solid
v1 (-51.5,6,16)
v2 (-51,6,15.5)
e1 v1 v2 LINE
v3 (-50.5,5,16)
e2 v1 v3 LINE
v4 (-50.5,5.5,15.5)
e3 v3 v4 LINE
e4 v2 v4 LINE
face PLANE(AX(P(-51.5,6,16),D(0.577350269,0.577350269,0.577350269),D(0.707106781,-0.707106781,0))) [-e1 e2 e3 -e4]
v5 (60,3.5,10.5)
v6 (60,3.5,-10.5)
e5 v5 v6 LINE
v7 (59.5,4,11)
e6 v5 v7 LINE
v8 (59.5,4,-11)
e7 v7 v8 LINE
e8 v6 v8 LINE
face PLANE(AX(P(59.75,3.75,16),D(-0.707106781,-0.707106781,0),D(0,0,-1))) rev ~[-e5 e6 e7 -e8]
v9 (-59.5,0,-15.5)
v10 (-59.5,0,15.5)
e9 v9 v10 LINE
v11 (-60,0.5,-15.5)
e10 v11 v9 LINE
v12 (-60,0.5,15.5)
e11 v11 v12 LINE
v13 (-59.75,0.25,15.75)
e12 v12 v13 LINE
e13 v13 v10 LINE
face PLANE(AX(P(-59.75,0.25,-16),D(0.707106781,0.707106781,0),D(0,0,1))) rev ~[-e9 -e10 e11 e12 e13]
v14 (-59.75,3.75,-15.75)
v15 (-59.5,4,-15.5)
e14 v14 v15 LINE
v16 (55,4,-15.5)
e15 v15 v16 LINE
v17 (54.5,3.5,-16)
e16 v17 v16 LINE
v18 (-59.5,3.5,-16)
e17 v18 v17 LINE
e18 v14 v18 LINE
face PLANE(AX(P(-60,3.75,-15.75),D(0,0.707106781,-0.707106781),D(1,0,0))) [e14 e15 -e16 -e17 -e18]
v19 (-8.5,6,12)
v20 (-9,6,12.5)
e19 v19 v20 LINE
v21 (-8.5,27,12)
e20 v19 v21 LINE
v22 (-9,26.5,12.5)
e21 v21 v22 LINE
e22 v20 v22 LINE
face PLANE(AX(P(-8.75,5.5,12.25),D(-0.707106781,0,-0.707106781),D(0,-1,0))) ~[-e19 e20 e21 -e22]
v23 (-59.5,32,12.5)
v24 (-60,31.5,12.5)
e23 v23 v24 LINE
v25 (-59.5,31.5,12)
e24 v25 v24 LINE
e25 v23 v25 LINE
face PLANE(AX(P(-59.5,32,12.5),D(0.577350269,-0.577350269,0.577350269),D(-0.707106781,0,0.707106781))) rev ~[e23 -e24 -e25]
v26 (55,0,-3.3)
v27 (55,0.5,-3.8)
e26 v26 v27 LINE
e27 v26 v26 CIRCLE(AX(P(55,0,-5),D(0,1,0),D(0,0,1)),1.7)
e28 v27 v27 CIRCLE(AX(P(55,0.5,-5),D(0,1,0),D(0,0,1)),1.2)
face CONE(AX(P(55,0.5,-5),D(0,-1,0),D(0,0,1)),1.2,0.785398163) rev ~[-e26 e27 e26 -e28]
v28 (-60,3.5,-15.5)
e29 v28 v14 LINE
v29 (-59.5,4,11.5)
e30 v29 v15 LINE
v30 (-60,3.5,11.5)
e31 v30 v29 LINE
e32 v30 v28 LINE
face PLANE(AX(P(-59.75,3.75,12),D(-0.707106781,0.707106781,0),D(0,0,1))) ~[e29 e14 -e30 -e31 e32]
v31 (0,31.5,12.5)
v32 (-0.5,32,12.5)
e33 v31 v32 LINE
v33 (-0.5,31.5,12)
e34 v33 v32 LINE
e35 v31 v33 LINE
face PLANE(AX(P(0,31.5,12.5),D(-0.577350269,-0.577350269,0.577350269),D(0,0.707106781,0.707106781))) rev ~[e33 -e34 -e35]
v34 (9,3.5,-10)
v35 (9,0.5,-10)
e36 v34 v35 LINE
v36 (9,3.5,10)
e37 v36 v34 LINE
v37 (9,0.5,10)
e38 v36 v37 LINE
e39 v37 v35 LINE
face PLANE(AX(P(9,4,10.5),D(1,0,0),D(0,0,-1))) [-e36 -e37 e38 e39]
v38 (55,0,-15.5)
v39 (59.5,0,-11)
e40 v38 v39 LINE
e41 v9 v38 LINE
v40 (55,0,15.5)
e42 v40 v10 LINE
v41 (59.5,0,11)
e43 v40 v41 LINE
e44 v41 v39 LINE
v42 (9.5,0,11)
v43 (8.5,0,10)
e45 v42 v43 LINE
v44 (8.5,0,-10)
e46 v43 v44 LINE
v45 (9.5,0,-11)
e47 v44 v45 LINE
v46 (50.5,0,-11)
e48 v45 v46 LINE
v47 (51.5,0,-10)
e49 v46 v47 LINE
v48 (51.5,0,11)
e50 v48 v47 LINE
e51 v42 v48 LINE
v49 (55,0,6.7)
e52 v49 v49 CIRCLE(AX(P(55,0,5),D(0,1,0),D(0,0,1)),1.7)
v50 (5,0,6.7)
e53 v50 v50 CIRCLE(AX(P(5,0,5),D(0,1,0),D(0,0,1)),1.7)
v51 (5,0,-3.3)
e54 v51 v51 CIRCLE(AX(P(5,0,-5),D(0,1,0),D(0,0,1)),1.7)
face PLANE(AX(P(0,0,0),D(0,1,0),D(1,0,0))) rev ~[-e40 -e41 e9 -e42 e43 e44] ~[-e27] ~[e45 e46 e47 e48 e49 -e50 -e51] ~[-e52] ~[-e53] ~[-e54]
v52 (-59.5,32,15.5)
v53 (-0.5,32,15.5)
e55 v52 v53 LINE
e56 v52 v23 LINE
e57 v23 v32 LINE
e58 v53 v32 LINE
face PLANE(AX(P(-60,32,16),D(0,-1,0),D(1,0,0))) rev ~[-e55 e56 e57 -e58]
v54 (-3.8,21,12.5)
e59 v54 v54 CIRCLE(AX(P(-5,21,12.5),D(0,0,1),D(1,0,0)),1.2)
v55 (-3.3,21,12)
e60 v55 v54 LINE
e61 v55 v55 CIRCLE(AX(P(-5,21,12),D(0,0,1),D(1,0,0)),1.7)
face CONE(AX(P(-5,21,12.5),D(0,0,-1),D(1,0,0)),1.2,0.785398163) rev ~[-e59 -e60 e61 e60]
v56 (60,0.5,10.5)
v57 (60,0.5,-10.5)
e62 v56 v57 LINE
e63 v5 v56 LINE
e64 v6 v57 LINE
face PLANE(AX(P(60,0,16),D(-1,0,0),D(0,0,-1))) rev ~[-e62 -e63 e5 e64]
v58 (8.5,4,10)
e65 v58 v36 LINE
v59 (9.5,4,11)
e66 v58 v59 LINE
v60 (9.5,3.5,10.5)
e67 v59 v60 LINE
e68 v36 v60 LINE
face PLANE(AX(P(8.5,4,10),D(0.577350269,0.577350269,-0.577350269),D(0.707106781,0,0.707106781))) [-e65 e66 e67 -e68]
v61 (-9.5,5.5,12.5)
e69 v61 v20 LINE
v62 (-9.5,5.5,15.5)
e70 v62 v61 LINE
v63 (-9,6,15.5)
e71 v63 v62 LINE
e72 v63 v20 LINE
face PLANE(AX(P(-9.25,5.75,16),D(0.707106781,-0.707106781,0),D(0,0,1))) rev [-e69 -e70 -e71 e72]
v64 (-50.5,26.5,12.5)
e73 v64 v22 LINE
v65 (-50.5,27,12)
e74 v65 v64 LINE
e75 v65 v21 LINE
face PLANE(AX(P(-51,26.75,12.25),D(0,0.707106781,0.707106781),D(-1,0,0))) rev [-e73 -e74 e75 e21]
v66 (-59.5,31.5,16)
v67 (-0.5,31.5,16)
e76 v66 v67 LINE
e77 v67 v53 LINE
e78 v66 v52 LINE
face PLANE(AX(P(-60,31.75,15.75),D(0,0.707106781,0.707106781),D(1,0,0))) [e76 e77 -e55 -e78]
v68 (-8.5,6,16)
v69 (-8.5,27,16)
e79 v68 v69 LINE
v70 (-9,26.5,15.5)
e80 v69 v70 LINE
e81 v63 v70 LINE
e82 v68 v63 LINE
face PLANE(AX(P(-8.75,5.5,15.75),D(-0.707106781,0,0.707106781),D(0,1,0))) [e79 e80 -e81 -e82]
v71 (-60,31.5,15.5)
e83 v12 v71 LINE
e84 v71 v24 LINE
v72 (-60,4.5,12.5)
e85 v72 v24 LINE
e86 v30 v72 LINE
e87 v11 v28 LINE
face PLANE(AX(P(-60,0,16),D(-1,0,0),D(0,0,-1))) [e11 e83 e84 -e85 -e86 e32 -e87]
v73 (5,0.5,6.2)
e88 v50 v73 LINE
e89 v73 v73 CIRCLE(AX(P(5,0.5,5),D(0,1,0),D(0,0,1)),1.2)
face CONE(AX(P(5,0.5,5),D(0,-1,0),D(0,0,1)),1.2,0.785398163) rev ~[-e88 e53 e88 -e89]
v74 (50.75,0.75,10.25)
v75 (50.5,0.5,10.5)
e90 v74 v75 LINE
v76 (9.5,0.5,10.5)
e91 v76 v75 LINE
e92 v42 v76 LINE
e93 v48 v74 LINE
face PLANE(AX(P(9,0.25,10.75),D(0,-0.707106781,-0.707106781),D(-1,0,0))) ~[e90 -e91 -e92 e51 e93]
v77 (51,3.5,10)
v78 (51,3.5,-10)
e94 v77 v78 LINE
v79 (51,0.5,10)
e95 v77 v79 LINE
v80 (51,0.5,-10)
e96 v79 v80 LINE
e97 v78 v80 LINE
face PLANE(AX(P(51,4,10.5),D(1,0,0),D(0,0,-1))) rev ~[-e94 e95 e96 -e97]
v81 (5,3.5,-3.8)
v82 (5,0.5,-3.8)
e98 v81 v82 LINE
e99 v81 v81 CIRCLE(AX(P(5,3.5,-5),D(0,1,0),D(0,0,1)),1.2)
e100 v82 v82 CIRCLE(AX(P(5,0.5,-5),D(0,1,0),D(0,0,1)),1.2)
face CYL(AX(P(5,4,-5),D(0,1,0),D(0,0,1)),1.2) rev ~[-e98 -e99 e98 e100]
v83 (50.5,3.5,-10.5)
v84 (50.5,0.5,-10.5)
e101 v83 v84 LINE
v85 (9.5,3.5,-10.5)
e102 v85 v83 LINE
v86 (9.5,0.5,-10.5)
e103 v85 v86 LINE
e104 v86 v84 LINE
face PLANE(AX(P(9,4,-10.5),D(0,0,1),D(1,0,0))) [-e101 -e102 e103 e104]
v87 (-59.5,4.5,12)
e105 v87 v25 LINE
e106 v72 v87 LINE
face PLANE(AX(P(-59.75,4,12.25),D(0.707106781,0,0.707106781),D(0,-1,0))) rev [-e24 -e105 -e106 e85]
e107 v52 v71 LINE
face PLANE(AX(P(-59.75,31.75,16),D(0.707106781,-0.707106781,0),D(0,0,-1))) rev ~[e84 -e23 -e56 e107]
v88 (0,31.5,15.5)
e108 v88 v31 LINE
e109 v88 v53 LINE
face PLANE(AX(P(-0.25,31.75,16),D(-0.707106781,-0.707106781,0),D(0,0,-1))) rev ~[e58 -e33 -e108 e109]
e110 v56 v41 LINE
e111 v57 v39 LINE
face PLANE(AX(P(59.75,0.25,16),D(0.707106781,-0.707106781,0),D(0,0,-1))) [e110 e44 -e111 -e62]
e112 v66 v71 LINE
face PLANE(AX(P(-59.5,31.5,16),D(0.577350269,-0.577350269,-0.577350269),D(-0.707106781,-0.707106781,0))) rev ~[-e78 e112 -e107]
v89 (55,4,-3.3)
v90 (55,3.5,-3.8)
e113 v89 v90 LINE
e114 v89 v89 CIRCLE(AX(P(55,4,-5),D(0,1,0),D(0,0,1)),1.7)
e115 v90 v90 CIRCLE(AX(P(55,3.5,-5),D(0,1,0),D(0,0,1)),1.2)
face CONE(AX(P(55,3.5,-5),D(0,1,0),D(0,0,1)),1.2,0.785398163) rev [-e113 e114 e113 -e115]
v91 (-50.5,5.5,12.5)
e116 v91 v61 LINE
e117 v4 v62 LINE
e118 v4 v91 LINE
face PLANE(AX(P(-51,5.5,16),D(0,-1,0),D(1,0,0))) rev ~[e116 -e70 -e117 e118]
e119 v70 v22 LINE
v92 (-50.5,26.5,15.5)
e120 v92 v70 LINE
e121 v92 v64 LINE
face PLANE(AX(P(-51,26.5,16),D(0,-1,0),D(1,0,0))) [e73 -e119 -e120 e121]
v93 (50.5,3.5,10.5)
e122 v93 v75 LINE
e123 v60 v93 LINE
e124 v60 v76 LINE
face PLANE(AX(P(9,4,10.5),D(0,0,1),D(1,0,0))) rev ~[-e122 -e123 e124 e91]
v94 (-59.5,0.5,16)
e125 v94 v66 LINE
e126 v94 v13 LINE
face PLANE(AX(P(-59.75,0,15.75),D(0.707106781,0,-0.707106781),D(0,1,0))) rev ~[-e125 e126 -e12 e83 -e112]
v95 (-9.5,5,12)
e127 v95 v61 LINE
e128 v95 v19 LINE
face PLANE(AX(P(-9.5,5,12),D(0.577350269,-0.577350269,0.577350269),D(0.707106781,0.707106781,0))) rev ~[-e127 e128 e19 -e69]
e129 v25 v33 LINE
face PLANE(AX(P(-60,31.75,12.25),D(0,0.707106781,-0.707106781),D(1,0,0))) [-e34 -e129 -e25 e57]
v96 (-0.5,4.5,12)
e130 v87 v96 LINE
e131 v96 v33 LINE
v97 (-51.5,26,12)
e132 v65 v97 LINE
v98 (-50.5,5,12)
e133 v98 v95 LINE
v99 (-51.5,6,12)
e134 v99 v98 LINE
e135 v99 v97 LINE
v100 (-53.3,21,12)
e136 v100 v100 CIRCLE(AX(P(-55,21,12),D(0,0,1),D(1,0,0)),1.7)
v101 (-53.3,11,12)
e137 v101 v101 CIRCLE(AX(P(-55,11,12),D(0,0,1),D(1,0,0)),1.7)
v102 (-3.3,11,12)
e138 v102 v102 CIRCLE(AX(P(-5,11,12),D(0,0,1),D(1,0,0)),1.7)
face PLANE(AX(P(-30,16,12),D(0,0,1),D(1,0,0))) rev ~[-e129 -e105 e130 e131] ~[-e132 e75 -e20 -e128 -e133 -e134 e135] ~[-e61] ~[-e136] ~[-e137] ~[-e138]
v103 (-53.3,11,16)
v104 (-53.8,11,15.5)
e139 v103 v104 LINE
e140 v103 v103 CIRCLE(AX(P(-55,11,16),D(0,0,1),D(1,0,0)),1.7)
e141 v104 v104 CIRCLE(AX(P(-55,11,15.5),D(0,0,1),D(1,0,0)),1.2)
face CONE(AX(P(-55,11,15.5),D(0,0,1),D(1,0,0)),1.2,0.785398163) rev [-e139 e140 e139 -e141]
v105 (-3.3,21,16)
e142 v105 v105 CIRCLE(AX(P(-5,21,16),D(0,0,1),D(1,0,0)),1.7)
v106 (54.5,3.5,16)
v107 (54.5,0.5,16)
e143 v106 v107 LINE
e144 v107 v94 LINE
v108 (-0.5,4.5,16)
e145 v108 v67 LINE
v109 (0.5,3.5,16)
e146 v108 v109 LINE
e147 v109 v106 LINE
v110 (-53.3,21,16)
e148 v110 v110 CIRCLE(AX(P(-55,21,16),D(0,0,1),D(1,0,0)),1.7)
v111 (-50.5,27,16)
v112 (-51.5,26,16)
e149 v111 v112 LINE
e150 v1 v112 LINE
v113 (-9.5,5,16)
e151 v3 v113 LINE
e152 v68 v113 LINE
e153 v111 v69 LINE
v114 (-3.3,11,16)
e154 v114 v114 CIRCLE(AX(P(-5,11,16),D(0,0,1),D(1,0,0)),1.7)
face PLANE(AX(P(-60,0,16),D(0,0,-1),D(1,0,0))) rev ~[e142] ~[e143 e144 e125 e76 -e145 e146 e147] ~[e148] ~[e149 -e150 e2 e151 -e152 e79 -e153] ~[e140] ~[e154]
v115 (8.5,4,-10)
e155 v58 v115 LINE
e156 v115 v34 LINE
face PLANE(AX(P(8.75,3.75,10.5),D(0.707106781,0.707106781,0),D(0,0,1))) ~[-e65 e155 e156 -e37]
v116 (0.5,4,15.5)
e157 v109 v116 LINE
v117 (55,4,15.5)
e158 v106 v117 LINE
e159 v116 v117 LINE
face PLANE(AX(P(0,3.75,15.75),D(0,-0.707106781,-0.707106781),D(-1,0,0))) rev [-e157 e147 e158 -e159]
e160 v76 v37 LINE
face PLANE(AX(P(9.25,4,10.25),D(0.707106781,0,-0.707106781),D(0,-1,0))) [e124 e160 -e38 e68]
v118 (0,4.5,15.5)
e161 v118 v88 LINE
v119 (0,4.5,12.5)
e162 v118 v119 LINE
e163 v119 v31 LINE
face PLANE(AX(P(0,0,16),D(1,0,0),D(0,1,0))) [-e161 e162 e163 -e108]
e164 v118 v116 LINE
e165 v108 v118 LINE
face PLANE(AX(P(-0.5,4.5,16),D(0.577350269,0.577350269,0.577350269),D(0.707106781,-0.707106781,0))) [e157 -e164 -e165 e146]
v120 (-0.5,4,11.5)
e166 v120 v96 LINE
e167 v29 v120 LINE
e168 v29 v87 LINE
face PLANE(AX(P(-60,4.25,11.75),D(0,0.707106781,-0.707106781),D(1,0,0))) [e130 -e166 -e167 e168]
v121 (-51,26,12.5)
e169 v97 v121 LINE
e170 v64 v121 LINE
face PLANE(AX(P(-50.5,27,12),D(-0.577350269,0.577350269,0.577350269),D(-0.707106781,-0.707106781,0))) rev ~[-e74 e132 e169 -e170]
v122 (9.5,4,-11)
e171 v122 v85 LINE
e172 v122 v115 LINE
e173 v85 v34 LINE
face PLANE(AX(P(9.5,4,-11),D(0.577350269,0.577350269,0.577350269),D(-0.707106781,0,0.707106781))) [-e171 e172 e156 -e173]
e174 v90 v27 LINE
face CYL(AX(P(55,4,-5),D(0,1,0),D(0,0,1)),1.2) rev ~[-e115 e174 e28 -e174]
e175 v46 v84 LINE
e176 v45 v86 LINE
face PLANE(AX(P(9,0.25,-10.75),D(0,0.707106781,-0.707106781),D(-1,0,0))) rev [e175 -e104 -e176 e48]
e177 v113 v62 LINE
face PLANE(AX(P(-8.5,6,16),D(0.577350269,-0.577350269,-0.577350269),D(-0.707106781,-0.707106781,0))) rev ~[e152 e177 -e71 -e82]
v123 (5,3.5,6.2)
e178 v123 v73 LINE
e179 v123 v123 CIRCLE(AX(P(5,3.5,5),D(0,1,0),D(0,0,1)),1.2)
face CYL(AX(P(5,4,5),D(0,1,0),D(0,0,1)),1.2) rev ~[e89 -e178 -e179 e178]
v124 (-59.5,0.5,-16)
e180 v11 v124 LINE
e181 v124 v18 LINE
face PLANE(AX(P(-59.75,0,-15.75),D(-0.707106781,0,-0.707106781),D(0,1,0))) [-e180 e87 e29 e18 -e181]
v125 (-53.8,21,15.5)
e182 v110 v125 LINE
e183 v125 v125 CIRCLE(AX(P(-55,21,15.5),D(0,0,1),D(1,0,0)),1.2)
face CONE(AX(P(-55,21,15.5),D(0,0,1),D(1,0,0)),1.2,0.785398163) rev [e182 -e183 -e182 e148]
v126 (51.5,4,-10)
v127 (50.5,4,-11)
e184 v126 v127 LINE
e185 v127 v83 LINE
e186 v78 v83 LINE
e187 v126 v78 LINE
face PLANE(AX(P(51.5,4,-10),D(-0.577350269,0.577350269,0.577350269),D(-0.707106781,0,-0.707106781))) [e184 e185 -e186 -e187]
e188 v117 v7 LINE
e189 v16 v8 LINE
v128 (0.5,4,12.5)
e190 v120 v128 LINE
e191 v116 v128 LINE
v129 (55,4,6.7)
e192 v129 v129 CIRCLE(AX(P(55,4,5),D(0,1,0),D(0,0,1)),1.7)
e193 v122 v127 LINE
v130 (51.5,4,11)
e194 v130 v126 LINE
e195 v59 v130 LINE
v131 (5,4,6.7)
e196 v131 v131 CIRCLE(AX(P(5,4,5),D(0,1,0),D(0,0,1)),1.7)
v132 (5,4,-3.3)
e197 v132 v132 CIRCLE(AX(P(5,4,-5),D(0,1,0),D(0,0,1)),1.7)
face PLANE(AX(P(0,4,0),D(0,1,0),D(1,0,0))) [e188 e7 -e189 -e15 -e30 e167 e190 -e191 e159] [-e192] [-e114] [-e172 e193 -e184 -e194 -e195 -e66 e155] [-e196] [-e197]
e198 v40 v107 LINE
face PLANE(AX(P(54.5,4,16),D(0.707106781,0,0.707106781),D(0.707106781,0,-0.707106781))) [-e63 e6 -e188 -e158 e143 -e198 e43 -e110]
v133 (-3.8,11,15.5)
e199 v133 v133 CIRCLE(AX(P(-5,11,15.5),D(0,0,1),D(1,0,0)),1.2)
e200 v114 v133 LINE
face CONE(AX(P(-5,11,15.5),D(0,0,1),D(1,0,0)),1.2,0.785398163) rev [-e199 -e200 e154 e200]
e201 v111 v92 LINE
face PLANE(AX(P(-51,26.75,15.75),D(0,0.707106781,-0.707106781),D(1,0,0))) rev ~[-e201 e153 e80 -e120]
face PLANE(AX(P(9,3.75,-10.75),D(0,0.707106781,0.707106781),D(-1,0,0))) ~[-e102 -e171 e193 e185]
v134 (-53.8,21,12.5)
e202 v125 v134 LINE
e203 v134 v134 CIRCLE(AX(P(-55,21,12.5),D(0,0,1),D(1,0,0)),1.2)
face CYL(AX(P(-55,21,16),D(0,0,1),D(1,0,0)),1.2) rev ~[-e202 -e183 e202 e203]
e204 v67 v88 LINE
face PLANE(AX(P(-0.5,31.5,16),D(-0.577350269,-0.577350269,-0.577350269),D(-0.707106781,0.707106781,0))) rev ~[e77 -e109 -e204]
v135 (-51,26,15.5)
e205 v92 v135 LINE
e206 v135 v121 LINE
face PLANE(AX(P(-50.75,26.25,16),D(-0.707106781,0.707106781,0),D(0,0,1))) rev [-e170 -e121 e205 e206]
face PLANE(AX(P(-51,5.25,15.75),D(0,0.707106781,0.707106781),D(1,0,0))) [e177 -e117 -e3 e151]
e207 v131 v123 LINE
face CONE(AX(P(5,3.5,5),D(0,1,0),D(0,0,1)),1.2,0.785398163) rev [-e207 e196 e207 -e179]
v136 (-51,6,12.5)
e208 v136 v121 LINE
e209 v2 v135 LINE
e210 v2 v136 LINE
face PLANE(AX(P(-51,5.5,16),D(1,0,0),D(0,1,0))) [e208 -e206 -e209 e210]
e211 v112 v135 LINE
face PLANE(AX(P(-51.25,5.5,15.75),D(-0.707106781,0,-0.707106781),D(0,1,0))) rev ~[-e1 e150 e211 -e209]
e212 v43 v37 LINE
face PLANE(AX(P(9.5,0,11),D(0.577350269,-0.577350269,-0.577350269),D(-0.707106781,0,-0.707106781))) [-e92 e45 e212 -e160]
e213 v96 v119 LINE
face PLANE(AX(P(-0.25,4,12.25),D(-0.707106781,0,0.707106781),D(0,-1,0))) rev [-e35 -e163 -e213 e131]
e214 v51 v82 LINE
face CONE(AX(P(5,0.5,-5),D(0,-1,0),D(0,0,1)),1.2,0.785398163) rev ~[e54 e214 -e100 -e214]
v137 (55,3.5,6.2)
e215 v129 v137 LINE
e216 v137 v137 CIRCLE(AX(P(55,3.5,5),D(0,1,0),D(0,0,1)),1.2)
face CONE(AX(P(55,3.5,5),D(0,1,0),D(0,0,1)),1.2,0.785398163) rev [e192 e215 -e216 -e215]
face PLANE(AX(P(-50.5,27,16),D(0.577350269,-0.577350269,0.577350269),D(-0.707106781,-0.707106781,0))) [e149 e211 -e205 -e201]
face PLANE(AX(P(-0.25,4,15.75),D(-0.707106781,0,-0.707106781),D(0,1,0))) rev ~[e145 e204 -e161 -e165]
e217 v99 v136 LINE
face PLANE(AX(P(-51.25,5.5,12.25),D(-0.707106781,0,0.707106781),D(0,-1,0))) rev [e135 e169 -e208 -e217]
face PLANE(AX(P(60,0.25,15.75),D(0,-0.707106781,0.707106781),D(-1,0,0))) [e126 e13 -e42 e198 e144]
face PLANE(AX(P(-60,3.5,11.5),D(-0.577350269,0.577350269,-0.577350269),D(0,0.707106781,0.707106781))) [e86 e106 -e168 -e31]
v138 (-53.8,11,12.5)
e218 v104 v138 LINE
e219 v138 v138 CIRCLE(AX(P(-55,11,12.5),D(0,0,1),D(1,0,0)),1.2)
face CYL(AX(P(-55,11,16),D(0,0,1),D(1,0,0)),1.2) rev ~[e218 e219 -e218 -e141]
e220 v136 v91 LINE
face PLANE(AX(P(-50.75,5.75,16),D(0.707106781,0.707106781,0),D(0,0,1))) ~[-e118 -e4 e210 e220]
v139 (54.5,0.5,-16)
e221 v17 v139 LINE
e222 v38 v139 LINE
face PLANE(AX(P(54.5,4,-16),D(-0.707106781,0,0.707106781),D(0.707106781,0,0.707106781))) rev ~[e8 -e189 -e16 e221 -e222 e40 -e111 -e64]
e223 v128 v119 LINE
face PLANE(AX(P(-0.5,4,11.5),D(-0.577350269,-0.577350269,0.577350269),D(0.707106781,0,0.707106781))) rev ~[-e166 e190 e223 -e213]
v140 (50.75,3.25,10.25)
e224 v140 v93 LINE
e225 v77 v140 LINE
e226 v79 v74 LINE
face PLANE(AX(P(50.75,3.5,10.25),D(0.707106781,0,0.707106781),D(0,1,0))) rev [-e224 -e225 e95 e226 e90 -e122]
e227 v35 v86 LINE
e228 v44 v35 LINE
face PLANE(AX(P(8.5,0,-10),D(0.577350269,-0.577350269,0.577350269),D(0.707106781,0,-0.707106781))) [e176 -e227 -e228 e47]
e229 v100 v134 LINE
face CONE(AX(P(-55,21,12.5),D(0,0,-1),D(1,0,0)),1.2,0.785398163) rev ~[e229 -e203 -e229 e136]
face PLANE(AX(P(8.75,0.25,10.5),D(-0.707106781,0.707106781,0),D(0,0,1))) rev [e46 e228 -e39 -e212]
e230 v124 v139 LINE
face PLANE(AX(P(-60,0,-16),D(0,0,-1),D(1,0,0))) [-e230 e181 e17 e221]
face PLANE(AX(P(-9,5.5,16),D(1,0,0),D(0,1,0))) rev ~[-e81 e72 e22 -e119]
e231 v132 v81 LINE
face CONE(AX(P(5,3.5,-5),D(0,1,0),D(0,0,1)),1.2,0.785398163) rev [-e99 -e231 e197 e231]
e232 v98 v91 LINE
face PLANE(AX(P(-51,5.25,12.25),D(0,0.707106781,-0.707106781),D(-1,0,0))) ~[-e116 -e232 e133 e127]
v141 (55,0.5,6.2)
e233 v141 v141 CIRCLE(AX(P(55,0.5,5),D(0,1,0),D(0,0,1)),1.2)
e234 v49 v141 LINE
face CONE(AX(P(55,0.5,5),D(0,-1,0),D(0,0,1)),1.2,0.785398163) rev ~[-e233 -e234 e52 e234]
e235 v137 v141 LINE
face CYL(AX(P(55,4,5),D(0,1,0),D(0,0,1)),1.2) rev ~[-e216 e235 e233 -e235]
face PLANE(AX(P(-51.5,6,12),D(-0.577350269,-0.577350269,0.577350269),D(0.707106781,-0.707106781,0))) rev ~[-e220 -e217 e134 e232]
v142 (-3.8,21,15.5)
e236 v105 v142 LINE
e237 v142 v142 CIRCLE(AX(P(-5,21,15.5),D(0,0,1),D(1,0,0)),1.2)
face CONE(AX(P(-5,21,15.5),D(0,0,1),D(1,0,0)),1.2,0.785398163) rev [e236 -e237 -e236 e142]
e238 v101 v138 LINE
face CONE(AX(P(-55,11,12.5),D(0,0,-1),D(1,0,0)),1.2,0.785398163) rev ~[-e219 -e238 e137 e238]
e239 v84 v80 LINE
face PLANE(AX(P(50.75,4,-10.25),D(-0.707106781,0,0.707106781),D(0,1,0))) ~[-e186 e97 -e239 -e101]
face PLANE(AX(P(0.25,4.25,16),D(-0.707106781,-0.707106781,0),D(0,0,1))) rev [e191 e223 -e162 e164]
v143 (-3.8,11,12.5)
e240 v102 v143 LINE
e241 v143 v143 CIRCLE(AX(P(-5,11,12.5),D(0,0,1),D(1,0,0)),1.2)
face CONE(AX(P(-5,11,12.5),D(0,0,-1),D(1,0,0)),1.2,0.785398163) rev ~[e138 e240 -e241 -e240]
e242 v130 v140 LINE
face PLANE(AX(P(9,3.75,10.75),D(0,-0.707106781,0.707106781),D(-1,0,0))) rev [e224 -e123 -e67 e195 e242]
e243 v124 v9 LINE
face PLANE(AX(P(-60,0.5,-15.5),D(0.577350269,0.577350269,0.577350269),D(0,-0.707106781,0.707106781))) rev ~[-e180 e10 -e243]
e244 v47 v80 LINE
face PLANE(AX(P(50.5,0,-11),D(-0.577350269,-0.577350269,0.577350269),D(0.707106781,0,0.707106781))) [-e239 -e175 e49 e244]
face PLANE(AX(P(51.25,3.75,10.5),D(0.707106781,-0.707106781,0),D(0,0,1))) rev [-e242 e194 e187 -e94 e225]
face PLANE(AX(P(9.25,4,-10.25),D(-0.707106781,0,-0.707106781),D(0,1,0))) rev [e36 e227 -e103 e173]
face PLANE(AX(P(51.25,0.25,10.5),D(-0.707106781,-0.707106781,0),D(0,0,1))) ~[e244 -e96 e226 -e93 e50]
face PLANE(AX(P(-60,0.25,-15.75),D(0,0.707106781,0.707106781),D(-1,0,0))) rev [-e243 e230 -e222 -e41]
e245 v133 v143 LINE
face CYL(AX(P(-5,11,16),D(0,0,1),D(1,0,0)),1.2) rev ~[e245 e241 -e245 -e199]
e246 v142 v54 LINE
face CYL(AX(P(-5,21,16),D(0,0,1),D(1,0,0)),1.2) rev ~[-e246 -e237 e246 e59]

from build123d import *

# Parameters (mm, degrees)
SKETCH2_W           = 120
SKETCH2_H           = 32
BOSS_EXTRUDE1_DEPTH = 4
SKETCH3_R           = 1.2
SKETCH3_W           = 42
SKETCH3_H           = 21
CUT_EXTRUDE1_DEPTH  = 4
SKETCH4_W           = 60
SKETCH4_H           = 32
BOSS_EXTRUDE2_DEPTH = 4
SKETCH5_R           = 1.2
SKETCH5_W           = 42
SKETCH5_H           = 21
CUT_EXTRUDE2_DEPTH  = 76.153176912
CHAMFER1_SIZE       = 0.5
CHAMFER2_SIZE       = 0.5
CUT_EXTRUDE3_DEPTH  = 10


with BuildPart() as part:
    # Sketch2 → Boss-Extrude1 (new body)
    with BuildSketch(Plane(origin=(0, 0, 0), x_dir=(1, 0, 0), z_dir=(0, 1, 0))):
        Rectangle(SKETCH2_W, SKETCH2_H)
    extrude(amount=BOSS_EXTRUDE1_DEPTH)

    # Sketch3 → Cut-Extrude1 (cut)
    with BuildSketch(Plane(origin=(0, 4, 0), x_dir=(1, 0, 0), z_dir=(0, 1, 0))):
        with Locations(Location((55, 5, 0), (0, 0, 270))):
            Circle(SKETCH3_R)
        with Locations(Location((55, -5, 0), (0, 0, 270))):
            Circle(SKETCH3_R)
        with Locations(Location((5, 5, 0), (0, 0, 270))):
            Circle(SKETCH3_R)
        with Locations(Location((5, -5, 0), (0, 0, 270))):
            Circle(SKETCH3_R)
        with Locations((30, 0)):
            Rectangle(SKETCH3_W, SKETCH3_H)
    extrude(amount=-CUT_EXTRUDE1_DEPTH, mode=Mode.SUBTRACT)

    # Sketch4 → Boss-Extrude2 (add)
    with BuildSketch(Plane.XY.offset(16)):
        with Locations((-30, 16)):
            Rectangle(SKETCH4_W, SKETCH4_H)
    extrude(amount=-BOSS_EXTRUDE2_DEPTH)

    # Sketch5 → Cut-Extrude2 (cut, through all)
    with BuildSketch(Plane.XY.offset(16)):
        with Locations((-5, 21)):
            Circle(SKETCH5_R)
        with Locations((-5, 11)):
            Circle(SKETCH5_R)
        with Locations((-55, 21)):
            Circle(SKETCH5_R)
        with Locations((-55, 11)):
            Circle(SKETCH5_R)
        with Locations((-30, 16)):
            Rectangle(SKETCH5_W, SKETCH5_H)
    extrude(amount=-CUT_EXTRUDE2_DEPTH, mode=Mode.SUBTRACT)

    # Chamfer1
    chamfer1_edges = [part.edges().sort_by_distance(p)[0] for p in [
        (-60, 4, -2),
        (5, 0, 3.8),
        (5, 4, 3.8),
        (5, 0, -6.2),
        (5, 4, -6.2),
        (55, 0, 3.8),
        (55, 4, 3.8),
        (55, 0, -6.2),
        (55, 4, -6.2),
        (51, 0, 0),
        (51, 2, -10.5),
        (30, 0, 10.5),
        (9, 0, 0),
        (9, 2, 10.5),
        (30, 0, -10.5),
        (9, 2, -10.5),
        (51, 4, 0),
        (30, 4, -10.5),
        (9, 4, 0),
        (30, 4, 10.5),
        (60, 4, 0),
        (0, 0, 16),
        (30, 4, 16),
        (-60, 18, 12),
        (-30, 32, 12),
        (-60, 32, 14),
        (0, 4, 14),
        (0, 18, 12),
        (0, 32, 14),
        (-30, 4, 12),
        (0, 18, 16),
        (-30, 32, 16),
        (60, 0, 0),
        (-30, 26.5, 12),
        (-51, 16, 12),
        (-30, 5.5, 12),
        (-9, 16, 12),
        (0, 4, -16),
        (60, 2, 16),
        (-56.2, 11, 12),
        (-56.2, 11, 16),
        (-60, 16, 16),
        (60, 2, -16),
        (-56.2, 21, 12),
        (-56.2, 21, 16),
        (-6.2, 11, 12),
        (-6.2, 11, 16),
        (-6.2, 21, 12),
        (-6.2, 21, 16),
        (-9, 5.5, 14),
        (-51, 5.5, 14),
        (-51, 26.5, 14),
        (-9, 16, 16),
        (-30, 26.5, 16),
        (-51, 16, 16),
        (-30, 5.5, 16),
    ]]
    chamfer(chamfer1_edges, length=CHAMFER1_SIZE)

    # Chamfer2
    chamfer2_edges = [part.edges().sort_by_distance(p)[0] for p in [
        (-0.25, 0, -16),
        (51, 2, 10.5),
        (-60, 1.75, -16),
        (-60, 0, -0.25),
    ]]
    chamfer(chamfer2_edges, length=CHAMFER2_SIZE)

    # Sketch7 → Cut-Extrude3 (cut)
    with BuildSketch(Plane(origin=(0, 4, 0), x_dir=(1, 0, 0), z_dir=(0, 1, 0))):
        Polygon((54.5, 16), (60, 10.5), (63.32506638, 18.331753403), align=None)
        Polygon((54.5, -16), (60, -10.5), (62.093529184, -22.512212848), align=None)
    extrude(amount=-CUT_EXTRUDE3_DEPTH, mode=Mode.SUBTRACT)


solid = part.part
